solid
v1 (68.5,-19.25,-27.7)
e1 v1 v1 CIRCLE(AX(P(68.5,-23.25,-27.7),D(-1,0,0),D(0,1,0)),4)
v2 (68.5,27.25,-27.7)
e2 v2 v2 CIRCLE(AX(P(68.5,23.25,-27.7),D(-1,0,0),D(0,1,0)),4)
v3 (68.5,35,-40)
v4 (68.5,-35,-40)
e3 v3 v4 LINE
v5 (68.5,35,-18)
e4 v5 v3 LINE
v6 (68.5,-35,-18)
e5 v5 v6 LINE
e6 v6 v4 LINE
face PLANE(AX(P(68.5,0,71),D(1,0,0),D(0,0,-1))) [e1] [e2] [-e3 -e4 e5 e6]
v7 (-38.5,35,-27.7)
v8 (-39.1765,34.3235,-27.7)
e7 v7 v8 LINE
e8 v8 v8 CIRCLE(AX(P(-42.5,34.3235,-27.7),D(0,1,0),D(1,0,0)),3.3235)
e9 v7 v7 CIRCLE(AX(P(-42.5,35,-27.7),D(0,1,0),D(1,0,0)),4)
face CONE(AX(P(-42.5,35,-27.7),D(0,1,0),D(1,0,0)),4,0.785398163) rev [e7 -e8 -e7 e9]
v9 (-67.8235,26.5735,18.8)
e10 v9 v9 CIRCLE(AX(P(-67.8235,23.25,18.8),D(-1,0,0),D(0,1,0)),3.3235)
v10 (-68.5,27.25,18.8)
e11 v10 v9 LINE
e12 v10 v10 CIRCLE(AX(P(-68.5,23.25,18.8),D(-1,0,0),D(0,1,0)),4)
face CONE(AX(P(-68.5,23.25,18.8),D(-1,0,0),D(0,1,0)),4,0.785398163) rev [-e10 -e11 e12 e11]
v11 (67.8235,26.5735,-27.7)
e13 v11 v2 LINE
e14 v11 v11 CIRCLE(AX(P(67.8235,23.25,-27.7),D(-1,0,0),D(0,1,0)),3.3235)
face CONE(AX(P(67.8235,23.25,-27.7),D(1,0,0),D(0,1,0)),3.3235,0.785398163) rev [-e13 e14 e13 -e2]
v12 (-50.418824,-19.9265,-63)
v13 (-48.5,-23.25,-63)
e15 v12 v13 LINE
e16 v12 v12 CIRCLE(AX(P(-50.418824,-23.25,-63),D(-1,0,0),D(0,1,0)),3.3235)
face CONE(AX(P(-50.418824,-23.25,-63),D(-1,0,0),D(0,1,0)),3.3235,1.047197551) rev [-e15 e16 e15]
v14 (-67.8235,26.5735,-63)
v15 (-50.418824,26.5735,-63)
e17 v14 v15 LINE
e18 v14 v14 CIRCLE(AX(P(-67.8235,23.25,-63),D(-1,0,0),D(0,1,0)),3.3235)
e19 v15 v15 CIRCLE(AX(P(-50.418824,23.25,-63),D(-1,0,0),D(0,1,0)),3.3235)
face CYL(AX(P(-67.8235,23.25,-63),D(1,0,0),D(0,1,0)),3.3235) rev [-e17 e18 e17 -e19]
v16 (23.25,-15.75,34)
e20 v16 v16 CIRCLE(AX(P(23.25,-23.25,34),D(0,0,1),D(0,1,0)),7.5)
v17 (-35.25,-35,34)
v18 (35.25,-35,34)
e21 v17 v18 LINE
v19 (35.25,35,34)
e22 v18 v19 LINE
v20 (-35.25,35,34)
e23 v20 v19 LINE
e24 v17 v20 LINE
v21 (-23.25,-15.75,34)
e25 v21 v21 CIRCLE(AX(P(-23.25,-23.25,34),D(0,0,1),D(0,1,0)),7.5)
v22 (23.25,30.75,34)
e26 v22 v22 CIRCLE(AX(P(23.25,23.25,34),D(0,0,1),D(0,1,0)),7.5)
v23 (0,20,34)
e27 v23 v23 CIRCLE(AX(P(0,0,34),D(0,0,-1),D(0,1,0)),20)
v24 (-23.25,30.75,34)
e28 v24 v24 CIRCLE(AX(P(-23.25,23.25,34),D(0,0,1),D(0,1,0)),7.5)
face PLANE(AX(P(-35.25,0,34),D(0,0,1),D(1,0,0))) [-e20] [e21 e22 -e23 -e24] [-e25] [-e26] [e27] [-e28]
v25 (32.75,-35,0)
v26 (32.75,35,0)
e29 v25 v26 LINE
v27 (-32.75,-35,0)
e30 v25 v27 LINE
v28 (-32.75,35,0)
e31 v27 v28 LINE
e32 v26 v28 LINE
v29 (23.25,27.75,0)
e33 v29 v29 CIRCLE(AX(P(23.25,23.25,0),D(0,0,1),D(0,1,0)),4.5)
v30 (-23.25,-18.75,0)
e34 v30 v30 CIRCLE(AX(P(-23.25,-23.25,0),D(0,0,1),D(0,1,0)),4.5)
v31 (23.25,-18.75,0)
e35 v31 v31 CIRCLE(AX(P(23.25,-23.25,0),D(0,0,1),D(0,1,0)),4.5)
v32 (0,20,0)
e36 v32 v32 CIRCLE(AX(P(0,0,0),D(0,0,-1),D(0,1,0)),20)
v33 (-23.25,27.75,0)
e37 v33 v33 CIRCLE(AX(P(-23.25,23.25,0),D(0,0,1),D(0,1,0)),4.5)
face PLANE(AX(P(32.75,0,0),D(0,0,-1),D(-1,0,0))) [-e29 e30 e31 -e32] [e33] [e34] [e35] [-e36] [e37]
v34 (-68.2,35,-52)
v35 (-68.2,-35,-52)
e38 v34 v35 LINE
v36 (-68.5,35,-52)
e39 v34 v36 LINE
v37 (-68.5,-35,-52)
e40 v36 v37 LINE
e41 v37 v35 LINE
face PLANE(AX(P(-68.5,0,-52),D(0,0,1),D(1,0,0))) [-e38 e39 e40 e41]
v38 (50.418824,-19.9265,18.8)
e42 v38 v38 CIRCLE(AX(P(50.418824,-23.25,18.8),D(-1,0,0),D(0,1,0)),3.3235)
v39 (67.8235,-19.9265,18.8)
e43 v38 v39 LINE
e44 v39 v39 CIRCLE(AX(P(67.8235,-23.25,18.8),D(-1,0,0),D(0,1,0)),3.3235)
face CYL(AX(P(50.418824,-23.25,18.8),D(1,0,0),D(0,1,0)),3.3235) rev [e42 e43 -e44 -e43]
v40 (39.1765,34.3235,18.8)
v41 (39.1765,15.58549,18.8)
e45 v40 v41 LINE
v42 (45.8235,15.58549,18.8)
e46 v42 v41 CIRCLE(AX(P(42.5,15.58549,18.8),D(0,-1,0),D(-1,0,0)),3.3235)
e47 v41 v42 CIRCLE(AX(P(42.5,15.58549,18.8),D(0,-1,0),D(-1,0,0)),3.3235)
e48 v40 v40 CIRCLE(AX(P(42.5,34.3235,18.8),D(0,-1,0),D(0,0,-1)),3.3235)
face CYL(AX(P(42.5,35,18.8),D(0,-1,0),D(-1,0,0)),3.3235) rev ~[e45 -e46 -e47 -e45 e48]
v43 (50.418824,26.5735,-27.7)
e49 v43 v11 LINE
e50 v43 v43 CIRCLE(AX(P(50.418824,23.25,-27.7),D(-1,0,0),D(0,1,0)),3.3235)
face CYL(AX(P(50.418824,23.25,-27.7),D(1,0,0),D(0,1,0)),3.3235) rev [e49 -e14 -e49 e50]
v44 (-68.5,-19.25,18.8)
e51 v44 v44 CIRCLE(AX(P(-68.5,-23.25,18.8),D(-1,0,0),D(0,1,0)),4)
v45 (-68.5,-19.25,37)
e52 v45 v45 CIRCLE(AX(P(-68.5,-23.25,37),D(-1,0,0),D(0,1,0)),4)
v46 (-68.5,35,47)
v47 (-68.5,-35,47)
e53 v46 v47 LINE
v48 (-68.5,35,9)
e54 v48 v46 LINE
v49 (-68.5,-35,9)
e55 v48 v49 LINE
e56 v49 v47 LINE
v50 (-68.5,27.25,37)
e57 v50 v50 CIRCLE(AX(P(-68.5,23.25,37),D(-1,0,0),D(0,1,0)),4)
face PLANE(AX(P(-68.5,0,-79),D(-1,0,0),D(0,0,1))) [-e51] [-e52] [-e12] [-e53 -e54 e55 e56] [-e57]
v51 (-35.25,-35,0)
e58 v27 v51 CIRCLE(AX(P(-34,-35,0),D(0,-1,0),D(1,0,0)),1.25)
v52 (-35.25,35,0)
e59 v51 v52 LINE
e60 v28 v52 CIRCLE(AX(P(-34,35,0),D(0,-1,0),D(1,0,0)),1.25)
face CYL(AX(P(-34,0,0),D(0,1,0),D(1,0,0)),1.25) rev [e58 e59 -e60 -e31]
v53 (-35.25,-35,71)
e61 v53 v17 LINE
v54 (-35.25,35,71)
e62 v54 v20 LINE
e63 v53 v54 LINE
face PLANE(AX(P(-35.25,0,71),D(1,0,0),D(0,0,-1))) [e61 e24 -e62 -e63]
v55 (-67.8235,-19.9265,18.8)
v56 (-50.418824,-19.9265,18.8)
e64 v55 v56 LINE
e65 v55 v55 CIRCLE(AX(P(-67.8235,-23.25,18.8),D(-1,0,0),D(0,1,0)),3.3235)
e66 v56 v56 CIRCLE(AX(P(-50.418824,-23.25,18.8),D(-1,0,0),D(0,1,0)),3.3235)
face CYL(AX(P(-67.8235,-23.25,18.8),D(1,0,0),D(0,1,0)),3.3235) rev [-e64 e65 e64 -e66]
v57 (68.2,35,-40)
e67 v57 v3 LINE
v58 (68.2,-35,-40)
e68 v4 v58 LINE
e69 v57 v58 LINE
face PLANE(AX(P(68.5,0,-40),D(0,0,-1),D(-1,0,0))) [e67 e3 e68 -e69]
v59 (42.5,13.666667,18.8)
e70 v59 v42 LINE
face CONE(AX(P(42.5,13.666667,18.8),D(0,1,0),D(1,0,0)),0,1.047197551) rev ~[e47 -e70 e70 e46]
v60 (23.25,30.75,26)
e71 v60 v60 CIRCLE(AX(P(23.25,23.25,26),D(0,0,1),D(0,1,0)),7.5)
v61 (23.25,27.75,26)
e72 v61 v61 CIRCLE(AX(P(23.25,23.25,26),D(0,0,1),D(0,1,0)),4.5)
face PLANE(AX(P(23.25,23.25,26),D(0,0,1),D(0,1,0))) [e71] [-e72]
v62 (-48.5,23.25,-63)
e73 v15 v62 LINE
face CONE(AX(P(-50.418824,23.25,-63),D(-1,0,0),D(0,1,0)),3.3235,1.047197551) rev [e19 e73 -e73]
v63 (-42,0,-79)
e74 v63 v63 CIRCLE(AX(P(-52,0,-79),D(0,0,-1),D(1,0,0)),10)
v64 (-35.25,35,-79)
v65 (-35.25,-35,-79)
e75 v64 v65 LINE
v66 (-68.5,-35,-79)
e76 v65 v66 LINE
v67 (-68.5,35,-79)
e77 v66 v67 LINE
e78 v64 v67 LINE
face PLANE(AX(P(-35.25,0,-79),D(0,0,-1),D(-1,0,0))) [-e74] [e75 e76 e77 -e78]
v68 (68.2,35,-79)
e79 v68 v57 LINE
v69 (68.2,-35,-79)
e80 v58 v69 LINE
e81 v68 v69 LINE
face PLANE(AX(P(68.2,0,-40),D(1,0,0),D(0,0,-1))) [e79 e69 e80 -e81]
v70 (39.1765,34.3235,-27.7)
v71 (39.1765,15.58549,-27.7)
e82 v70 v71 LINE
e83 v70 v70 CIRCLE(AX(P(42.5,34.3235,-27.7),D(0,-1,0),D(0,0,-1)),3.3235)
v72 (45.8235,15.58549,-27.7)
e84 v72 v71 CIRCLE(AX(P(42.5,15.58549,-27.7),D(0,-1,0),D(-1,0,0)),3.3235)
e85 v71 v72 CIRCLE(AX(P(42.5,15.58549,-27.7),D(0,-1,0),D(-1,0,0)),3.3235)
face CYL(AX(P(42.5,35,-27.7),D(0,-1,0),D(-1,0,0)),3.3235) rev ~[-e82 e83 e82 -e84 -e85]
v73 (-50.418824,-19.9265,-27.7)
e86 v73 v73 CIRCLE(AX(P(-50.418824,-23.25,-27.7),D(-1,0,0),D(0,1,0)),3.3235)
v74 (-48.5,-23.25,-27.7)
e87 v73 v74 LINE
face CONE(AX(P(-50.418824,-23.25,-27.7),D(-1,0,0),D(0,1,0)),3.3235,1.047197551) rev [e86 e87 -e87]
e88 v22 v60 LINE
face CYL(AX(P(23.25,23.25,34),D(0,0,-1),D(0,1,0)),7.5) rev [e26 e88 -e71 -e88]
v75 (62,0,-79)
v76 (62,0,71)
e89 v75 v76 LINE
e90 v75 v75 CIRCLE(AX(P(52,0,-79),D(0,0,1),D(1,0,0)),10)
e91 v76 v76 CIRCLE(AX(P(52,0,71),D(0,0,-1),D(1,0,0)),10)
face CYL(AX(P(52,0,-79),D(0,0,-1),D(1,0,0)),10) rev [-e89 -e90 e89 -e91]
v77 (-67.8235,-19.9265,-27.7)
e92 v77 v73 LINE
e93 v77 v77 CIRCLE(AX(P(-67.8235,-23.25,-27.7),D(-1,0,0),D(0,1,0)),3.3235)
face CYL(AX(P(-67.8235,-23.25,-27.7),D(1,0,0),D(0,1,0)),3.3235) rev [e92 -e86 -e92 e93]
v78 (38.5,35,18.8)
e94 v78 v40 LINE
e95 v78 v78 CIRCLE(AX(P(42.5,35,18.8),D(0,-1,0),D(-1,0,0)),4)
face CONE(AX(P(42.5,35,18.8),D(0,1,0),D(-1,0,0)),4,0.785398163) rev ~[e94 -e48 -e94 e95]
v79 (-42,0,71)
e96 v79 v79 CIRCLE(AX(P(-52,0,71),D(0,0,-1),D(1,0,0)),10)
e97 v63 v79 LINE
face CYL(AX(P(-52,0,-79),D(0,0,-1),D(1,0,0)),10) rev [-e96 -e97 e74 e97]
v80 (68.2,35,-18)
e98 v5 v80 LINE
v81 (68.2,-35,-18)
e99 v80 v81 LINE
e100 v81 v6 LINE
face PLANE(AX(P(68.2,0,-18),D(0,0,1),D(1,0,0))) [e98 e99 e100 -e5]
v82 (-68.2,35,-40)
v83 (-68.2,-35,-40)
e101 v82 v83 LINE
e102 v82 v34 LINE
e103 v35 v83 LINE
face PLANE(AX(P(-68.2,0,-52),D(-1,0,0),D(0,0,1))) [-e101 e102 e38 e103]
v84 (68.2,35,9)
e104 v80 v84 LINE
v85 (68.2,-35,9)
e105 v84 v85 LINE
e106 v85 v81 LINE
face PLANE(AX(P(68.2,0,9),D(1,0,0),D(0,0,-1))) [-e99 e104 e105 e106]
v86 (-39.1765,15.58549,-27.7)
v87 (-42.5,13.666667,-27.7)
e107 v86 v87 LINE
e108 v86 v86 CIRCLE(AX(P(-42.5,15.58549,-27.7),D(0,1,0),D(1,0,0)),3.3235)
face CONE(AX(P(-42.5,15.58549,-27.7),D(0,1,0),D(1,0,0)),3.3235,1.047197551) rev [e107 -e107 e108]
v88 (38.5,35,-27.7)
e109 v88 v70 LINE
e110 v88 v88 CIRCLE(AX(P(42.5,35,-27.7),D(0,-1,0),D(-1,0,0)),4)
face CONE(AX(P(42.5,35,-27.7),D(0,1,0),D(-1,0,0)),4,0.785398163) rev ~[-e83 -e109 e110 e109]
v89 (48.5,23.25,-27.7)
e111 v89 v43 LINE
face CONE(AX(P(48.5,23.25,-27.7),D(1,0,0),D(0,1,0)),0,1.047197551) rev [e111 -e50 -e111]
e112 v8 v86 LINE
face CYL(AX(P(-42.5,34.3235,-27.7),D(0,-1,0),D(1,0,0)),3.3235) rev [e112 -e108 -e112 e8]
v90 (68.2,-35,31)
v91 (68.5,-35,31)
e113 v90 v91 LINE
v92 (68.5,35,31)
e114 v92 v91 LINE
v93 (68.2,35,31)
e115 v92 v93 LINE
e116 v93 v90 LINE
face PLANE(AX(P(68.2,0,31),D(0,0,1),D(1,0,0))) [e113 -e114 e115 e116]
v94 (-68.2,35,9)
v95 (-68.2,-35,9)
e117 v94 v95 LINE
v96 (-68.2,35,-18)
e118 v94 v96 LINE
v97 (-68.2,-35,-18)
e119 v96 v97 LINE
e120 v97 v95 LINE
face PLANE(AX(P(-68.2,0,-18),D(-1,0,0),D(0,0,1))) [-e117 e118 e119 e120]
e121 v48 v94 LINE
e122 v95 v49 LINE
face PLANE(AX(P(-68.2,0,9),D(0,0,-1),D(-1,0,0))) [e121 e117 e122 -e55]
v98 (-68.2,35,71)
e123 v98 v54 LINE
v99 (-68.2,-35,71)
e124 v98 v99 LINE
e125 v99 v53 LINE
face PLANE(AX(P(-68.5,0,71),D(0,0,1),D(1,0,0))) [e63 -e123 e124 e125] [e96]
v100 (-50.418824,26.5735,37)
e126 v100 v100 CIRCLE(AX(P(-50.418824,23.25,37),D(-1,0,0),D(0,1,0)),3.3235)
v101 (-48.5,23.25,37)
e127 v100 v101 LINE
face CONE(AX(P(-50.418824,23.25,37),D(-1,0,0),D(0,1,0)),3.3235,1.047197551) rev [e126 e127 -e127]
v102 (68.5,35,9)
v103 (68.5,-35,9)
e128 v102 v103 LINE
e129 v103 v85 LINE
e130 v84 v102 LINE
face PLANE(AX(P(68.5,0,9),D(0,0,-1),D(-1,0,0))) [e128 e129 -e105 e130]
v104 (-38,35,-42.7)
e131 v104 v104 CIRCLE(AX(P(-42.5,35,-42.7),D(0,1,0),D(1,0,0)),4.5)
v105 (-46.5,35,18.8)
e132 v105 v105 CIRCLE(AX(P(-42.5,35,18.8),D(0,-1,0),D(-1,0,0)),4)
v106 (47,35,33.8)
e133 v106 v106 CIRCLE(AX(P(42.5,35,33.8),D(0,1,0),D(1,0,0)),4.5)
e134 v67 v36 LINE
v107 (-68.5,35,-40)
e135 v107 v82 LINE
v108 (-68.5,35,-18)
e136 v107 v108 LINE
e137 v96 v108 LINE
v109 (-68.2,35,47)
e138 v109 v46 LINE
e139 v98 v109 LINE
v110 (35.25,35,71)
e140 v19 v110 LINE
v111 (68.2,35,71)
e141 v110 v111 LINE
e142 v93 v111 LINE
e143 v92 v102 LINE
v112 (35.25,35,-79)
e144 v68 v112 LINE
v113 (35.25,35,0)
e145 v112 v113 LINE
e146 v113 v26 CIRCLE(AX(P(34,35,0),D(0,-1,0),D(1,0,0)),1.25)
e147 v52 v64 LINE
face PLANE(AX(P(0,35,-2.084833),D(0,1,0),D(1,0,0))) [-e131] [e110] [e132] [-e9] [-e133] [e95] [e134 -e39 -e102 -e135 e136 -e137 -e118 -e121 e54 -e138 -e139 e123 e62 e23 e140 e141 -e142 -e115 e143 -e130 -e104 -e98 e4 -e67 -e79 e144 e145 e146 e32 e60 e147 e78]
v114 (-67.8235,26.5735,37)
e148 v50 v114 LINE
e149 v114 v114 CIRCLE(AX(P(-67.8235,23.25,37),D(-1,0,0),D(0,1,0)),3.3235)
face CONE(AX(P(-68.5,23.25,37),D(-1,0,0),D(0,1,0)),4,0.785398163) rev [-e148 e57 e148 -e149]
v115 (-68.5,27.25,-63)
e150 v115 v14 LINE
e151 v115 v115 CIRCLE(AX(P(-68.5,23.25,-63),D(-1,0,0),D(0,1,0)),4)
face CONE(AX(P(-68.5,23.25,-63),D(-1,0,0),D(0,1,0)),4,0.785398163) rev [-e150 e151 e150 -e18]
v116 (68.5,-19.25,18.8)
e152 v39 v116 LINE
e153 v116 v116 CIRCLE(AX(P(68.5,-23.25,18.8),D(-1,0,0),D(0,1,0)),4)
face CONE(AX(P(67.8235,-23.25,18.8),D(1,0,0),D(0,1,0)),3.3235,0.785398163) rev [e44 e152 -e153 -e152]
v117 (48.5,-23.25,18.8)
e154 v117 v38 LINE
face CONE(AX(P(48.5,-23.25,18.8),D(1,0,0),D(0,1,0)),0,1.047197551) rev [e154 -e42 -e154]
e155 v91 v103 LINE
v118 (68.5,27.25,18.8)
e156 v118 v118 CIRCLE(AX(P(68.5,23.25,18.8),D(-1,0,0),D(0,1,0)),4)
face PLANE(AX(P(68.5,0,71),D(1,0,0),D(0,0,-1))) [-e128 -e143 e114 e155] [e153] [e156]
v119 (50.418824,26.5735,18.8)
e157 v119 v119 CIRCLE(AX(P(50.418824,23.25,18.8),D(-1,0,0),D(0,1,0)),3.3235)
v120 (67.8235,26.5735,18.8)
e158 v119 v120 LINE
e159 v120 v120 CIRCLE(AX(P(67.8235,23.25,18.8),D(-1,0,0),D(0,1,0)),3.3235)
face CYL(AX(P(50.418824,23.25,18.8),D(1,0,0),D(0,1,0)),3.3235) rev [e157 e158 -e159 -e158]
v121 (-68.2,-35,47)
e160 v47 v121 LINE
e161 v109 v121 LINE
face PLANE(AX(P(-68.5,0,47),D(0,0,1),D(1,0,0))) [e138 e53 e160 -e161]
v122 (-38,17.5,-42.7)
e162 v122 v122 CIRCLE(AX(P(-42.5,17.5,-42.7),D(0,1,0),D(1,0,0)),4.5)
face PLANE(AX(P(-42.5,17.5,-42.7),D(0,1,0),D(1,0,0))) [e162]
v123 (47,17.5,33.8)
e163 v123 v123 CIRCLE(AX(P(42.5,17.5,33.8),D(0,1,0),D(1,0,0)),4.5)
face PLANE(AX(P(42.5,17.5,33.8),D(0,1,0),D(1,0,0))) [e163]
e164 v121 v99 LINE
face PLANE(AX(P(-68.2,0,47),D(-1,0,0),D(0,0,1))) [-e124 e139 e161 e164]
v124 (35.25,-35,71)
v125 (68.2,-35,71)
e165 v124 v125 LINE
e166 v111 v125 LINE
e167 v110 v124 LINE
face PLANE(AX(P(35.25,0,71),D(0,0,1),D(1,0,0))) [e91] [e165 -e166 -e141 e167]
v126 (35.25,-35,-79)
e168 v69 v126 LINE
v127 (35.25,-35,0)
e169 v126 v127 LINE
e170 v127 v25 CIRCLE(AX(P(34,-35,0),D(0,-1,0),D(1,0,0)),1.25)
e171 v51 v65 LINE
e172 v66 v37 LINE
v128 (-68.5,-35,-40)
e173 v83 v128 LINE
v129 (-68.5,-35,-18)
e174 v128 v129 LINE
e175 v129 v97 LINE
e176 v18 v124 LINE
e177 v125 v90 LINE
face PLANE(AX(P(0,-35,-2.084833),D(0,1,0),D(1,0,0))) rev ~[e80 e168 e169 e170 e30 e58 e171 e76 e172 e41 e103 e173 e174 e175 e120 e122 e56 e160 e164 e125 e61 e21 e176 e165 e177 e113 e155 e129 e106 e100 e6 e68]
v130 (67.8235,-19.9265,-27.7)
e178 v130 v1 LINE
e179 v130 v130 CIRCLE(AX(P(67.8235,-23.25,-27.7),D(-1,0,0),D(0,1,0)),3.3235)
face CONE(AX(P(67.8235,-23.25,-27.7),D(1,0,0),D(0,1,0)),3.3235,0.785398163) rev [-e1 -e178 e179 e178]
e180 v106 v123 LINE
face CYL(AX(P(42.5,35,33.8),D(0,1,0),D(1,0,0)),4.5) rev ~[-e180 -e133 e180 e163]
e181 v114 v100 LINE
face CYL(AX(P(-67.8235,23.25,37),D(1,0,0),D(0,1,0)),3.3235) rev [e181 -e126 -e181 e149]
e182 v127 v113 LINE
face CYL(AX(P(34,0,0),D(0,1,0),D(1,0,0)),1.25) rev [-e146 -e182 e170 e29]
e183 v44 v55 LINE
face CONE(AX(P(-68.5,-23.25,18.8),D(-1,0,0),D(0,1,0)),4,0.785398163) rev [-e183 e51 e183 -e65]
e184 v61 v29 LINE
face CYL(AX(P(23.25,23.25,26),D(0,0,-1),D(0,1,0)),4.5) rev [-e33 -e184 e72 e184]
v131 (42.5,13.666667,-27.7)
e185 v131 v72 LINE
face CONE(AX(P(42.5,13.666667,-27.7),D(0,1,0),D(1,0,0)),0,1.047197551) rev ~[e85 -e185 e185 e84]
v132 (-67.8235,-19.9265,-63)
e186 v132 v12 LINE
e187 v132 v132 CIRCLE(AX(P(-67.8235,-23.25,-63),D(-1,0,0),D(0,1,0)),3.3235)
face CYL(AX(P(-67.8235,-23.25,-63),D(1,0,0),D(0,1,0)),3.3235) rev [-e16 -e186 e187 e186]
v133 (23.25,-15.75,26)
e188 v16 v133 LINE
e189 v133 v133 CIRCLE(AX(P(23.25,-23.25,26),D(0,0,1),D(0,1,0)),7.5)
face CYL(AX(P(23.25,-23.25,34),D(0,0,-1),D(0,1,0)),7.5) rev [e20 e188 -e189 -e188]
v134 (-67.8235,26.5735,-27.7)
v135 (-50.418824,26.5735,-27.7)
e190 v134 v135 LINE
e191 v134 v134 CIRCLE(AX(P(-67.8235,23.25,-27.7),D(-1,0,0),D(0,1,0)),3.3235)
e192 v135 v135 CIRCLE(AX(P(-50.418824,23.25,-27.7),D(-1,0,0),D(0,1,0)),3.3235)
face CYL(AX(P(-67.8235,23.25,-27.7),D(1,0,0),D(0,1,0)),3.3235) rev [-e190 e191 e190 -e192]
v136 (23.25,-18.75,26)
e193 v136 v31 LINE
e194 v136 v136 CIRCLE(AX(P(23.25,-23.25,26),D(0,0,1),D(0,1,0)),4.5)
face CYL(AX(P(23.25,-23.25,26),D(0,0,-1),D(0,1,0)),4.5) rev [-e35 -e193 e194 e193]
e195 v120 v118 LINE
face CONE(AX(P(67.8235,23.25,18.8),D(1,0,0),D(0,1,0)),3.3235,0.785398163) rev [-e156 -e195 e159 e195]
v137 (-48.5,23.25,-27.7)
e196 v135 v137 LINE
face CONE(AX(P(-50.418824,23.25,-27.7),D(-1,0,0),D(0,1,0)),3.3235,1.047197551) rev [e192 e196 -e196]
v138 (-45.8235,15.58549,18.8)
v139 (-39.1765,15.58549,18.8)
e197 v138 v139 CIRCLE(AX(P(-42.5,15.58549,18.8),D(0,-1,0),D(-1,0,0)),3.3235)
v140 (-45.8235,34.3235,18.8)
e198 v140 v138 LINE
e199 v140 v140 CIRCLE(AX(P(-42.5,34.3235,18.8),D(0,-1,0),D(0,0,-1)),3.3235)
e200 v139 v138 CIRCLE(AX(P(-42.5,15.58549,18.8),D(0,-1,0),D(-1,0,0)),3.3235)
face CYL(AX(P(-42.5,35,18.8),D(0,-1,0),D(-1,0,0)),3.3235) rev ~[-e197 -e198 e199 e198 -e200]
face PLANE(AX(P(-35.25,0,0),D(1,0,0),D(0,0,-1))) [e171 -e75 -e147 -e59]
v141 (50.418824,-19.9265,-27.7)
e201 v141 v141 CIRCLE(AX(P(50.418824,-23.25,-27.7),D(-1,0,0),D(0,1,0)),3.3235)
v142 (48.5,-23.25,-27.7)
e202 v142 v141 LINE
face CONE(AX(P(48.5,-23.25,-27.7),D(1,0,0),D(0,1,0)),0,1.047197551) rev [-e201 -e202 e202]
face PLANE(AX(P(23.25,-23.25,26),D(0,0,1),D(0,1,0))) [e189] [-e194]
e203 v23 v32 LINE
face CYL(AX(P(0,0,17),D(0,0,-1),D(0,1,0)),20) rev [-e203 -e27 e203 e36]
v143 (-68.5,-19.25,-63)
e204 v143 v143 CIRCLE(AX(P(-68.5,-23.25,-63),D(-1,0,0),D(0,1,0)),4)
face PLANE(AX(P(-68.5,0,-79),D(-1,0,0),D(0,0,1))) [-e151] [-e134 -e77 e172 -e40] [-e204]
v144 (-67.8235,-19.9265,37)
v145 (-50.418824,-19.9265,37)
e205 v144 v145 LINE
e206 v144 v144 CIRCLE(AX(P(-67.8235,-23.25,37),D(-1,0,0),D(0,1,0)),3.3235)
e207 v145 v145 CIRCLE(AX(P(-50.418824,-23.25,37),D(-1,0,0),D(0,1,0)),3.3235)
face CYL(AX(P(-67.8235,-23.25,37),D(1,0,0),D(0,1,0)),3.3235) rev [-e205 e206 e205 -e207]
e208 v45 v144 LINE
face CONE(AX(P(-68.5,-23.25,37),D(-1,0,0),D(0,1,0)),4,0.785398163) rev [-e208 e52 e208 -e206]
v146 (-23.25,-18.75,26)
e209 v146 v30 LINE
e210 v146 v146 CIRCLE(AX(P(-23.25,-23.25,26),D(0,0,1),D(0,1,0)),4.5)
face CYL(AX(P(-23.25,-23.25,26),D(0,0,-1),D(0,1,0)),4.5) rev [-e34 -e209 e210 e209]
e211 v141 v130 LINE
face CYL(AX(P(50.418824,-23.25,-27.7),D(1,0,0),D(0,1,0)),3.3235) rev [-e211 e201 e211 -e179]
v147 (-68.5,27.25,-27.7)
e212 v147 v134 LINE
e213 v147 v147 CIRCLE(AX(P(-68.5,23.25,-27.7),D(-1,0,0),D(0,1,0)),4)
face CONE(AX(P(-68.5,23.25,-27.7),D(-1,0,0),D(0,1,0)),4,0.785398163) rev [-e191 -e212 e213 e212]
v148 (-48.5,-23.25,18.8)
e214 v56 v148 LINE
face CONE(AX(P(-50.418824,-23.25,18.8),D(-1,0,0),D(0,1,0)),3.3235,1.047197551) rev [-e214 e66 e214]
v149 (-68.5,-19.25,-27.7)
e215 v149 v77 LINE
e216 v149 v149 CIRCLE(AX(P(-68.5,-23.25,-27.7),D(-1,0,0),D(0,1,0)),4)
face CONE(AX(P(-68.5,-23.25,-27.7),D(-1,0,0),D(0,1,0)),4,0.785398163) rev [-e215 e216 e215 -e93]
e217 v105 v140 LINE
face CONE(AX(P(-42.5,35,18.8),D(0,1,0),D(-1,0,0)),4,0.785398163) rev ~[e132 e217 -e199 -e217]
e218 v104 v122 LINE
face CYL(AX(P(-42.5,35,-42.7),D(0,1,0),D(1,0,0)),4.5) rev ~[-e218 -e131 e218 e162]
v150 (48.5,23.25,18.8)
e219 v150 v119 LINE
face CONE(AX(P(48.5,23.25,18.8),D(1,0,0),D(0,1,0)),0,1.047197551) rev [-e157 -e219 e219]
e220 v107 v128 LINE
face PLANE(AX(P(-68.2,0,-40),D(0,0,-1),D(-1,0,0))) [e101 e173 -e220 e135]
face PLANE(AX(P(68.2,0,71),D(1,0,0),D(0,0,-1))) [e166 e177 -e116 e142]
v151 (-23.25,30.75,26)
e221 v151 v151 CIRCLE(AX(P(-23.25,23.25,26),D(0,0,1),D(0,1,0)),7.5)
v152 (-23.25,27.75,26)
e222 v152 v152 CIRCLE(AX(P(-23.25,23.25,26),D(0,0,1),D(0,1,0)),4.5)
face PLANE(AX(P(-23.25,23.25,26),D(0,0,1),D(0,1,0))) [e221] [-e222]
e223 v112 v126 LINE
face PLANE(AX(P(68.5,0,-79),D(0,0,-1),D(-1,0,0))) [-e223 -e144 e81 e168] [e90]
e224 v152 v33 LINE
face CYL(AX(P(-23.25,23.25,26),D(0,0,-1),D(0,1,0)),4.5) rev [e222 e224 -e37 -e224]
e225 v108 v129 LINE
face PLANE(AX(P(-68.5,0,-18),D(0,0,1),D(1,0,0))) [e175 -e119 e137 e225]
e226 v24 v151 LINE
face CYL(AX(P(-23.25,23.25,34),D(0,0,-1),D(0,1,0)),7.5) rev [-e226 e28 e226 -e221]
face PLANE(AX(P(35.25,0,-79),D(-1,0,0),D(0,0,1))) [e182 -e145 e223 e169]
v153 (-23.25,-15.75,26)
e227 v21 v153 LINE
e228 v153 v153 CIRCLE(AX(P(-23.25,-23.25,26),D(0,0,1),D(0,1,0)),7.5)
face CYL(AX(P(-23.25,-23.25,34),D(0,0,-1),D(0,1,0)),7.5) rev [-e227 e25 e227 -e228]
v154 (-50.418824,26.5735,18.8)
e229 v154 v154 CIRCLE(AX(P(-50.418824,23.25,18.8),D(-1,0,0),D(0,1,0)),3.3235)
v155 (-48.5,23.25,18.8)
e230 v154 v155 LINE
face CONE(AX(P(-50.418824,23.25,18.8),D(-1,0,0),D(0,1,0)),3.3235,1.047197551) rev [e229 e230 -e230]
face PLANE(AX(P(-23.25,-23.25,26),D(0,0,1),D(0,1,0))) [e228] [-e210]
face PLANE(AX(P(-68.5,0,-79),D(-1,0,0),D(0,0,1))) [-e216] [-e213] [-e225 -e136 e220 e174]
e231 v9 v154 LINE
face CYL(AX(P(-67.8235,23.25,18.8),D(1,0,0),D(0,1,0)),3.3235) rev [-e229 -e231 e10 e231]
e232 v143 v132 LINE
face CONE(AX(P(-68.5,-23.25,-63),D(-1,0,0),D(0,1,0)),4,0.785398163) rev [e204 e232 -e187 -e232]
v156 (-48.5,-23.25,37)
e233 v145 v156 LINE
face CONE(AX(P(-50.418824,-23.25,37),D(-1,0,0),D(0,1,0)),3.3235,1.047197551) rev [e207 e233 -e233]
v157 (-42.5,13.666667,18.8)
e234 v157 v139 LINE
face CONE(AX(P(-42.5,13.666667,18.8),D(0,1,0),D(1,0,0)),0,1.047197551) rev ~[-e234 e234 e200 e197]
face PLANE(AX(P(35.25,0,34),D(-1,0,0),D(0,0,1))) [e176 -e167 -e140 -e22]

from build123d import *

# Parameters (mm, degrees)
BOSS_EXTRUDE1_DEPTH      = 35
BOSS_EXTRUDE1_DEPTH_BACK = 35
SKETCH2_W                = 36
SKETCH2_H                = 20
HOLE1_D                  = 6.647
HOLE1_DEPTH              = 19.414509714
HOLE1_CSINK_D            = 8
HOLE1_CSINK_ANGLE        = 90
HOLE1_TIP                = 1.91882362
HOLE2_D                  = 6.647
HOLE2_DEPTH              = 19.414509714
HOLE2_CSINK_D            = 8
HOLE2_CSINK_ANGLE        = 90
HOLE2_TIP                = 1.91882362
HOLE3_D                  = 6.647
HOLE3_DEPTH              = 19.414509714
HOLE3_CSINK_D            = 8
HOLE3_CSINK_ANGLE        = 90
HOLE3_TIP                = 1.91882362
SKETCH26_R               = 10
CUT_EXTRUDE1_DEPTH       = 150
SKETCH27_R               = 10
CUT_EXTRUDE2_DEPTH       = 150
CUT_EXTRUDE3_DEPTH       = 70
CUT_EXTRUDE3_DEPTH_BACK  = 70
SKETCH28_W               = 177
SKETCH28_H               = 190
SKETCH29_R               = 4.5
CUT_EXTRUDE4_DEPTH       = 17.5


with BuildPart() as part:
    # Sketch1 → Boss-Extrude1 (new, two sides: drawn at the far end of the back side and taken through both)
    with BuildSketch(Plane(origin=(0, 0, 0), x_dir=(1, 0, 0), z_dir=(0, 1, 0)).offset(-BOSS_EXTRUDE1_DEPTH_BACK)):
        with BuildLine():
            Line((-68.5, -71), (-35.25, -71))
            Line((-35.25, -71), (-35.25, -34))
            Line((-35.25, -34), (35.25, -34))
            Line((35.25, -34), (35.25, -71))
            Line((35.25, -71), (68.5, -71))
            Line((68.5, -71), (68.5, 79))
            Line((68.5, 79), (35.25, 79))
            Line((35.25, 79), (35.25, 0))
            ThreePointArc((35.25, 0), (34, -1.25), (32.75, 0))
            Line((32.75, 0), (-32.75, 0))
            ThreePointArc((-32.75, 0), (-34, -1.25), (-35.25, 0))
            Line((-35.25, 0), (-35.25, 79))
            Line((-35.25, 79), (-68.5, 79))
            Line((-68.5, 79), (-68.5, -71))
        make_face()
    extrude(amount=BOSS_EXTRUDE1_DEPTH + BOSS_EXTRUDE1_DEPTH_BACK)

    # Sketch2 → Cut-Revolve1 (revolve, cut)
    with BuildSketch(Plane(origin=(0, 0, 0), x_dir=(0, 0, -1), z_dir=(1, 0, 0))):
        with Locations((-17, 10)):
            Rectangle(SKETCH2_W, SKETCH2_H)
    revolve(axis=Axis((0, 0, -1), (0, 0, 1)), mode=Mode.SUBTRACT)

    # Sketch3 → Cut-Revolve2 (revolve, cut)
    with BuildSketch(Plane(origin=(-23.25, 0, 0), x_dir=(0, 0, -1), z_dir=(1, 0, 0))):
        Polygon((-34, 23.25), (-34, 30.75), (-26, 30.75), (-26, 27.75), (0, 27.75), (0, 23.25), align=None)
    revolve(axis=Axis((-23.25, 23.25, 0), (0, 0, 1)), mode=Mode.SUBTRACT)

    # Sketch4 → Cut-Revolve3 (revolve, cut)
    with BuildSketch(Plane(origin=(-23.25, 0, 0), x_dir=(0, 0, -1), z_dir=(1, 0, 0))):
        Polygon((-34, -23.25), (-34, -15.75), (-26, -15.75), (-26, -18.75), (0, -18.75), (0, -23.25), align=None)
    revolve(axis=Axis((-23.25, -23.25, 0), (0, 0, 1)), mode=Mode.SUBTRACT)

    # Sketch5 → Cut-Revolve4 (revolve, cut)
    with BuildSketch(Plane(origin=(23.25, 0, 0), x_dir=(0, 0, -1), z_dir=(1, 0, 0))):
        Polygon((-34, 23.25), (-34, 30.75), (-26, 30.75), (-26, 27.75), (0, 27.75), (0, 23.25), align=None)
    revolve(axis=Axis((23.25, 23.25, 0), (0, 0, 1)), mode=Mode.SUBTRACT)

    # Sketch6 → Cut-Revolve5 (revolve, cut)
    with BuildSketch(Plane(origin=(23.25, 0, 0), x_dir=(0, 0, -1), z_dir=(1, 0, 0))):
        Polygon((-34, -23.25), (-34, -15.75), (-26, -15.75), (-26, -18.75), (0, -18.75), (0, -23.25), align=None)
    revolve(axis=Axis((23.25, -23.25, 0), (0, 0, 1)), mode=Mode.SUBTRACT)

    # Hole1
    with Locations(Plane(origin=(0, 35, 0), x_dir=(1, 0, 0), z_dir=(0, 1, 0))):
        with Locations((42.5, -18.8)):
            CounterSinkHole(HOLE1_D / 2, HOLE1_CSINK_D / 2, depth=HOLE1_DEPTH, counter_sink_angle=HOLE1_CSINK_ANGLE)
            with Locations((0, 0, -(HOLE1_DEPTH + HOLE1_TIP / 2))):  # 120° drill point
                Cone(0, HOLE1_D / 2, HOLE1_TIP, mode=Mode.SUBTRACT)

    # Hole2
    with Locations(Plane(origin=(0, 35, 0), x_dir=(1, 0, 0), z_dir=(0, 1, 0))):
        with Locations((-42.5, -18.8)):
            CounterSinkHole(HOLE2_D / 2, HOLE2_CSINK_D / 2, depth=HOLE2_DEPTH, counter_sink_angle=HOLE2_CSINK_ANGLE)
            with Locations((0, 0, -(HOLE2_DEPTH + HOLE2_TIP / 2))):  # 120° drill point
                Cone(0, HOLE2_D / 2, HOLE2_TIP, mode=Mode.SUBTRACT)

    # Sketch11 → Cut-Revolve6 (revolve, cut)
    with BuildSketch(Plane.XY.offset(18.8)):
        Polygon((48.5, 23.25), (50.41882362, 26.5735), (67.8235, 26.5735), (68.5, 27.25), (68.5, 23.25), align=None)
    revolve(axis=Axis((68.5, 23.25, 18.8), (-1, 0, 0)), mode=Mode.SUBTRACT)

    # Sketch12 → Cut-Revolve7 (revolve, cut)
    with BuildSketch(Plane.XY.offset(18.8)):
        Polygon((48.5, -23.25), (50.41882362, -19.9265), (67.8235, -19.9265), (68.5, -19.25), (68.5, -23.25), align=None)
    revolve(axis=Axis((68.5, -23.25, 18.8), (-1, 0, 0)), mode=Mode.SUBTRACT)

    # Sketch13 → Cut-Revolve8 (revolve, cut)
    with BuildSketch(Plane.XY.offset(18.8)):
        Polygon((-68.5, 23.25), (-68.5, 27.25), (-67.8235, 26.5735), (-50.41882362, 26.5735), (-48.5, 23.25), align=None)
    revolve(axis=Axis((-48.5, 23.25, 18.8), (-1, 0, 0)), mode=Mode.SUBTRACT)

    # Sketch14 → Cut-Revolve9 (revolve, cut)
    with BuildSketch(Plane.XY.offset(18.8)):
        Polygon((-68.5, -23.25), (-68.5, -19.25), (-67.8235, -19.9265), (-50.41882362, -19.9265), (-48.5, -23.25), align=None)
    revolve(axis=Axis((-48.5, -23.25, 18.8), (-1, 0, 0)), mode=Mode.SUBTRACT)

    # Hole3
    with Locations(Plane(origin=(0, 35, 0), x_dir=(1, 0, 0), z_dir=(0, 1, 0))):
        with Locations((42.5, 27.7)):
            CounterSinkHole(HOLE3_D / 2, HOLE3_CSINK_D / 2, depth=HOLE3_DEPTH, counter_sink_angle=HOLE3_CSINK_ANGLE)
            with Locations((0, 0, -(HOLE3_DEPTH + HOLE3_TIP / 2))):  # 120° drill point
                Cone(0, HOLE3_D / 2, HOLE3_TIP, mode=Mode.SUBTRACT)

    # Sketch17 → Cut-Revolve10 (revolve, cut)
    with BuildSketch(Plane.XY.offset(-27.7)):
        Polygon((-42.5, 35), (-38.5, 35), (-39.1765, 34.3235), (-39.1765, 15.585490286), (-42.5, 13.666666667), align=None)
    revolve(axis=Axis((-42.5, 13.666666667, -27.7), (0, 1, 0)), mode=Mode.SUBTRACT)

    # Sketch18 → Cut-Revolve11 (revolve, cut)
    with BuildSketch(Plane.XY.offset(-27.7)):
        Polygon((48.5, 23.25), (50.41882362, 26.5735), (67.8235, 26.5735), (68.5, 27.25), (68.5, 23.25), align=None)
    revolve(axis=Axis((68.5, 23.25, -27.7), (-1, 0, 0)), mode=Mode.SUBTRACT)

    # Sketch19 → Cut-Revolve12 (revolve, cut)
    with BuildSketch(Plane.XY.offset(-27.7)):
        Polygon((48.5, -23.25), (50.41882362, -19.9265), (67.8235, -19.9265), (68.5, -19.25), (68.5, -23.25), align=None)
    revolve(axis=Axis((68.5, -23.25, -27.7), (-1, 0, 0)), mode=Mode.SUBTRACT)

    # Sketch20 → Cut-Revolve13 (revolve, cut)
    with BuildSketch(Plane.XY.offset(-27.7)):
        Polygon((-68.5, 23.25), (-68.5, 27.25), (-67.8235, 26.5735), (-50.41882362, 26.5735), (-48.5, 23.25), align=None)
    revolve(axis=Axis((-48.5, 23.25, -27.7), (-1, 0, 0)), mode=Mode.SUBTRACT)

    # Sketch21 → Cut-Revolve14 (revolve, cut)
    with BuildSketch(Plane.XY.offset(-27.7)):
        Polygon((-68.5, -23.25), (-68.5, -19.25), (-67.8235, -19.9265), (-50.41882362, -19.9265), (-48.5, -23.25), align=None)
    revolve(axis=Axis((-48.5, -23.25, -27.7), (-1, 0, 0)), mode=Mode.SUBTRACT)

    # Sketch22 → Cut-Revolve15 (revolve, cut)
    with BuildSketch(Plane.XY.offset(-63)):
        Polygon((-68.5, 23.25), (-68.5, 27.25), (-67.8235, 26.5735), (-50.41882362, 26.5735), (-48.5, 23.25), align=None)
    revolve(axis=Axis((-48.5, 23.25, -63), (-1, 0, 0)), mode=Mode.SUBTRACT)

    # Sketch23 → Cut-Revolve16 (revolve, cut)
    with BuildSketch(Plane.XY.offset(-63)):
        Polygon((-68.5, -23.25), (-68.5, -19.25), (-67.8235, -19.9265), (-50.41882362, -19.9265), (-48.5, -23.25), align=None)
    revolve(axis=Axis((-48.5, -23.25, -63), (-1, 0, 0)), mode=Mode.SUBTRACT)

    # Sketch24 → Cut-Revolve17 (revolve, cut)
    with BuildSketch(Plane.XY.offset(37)):
        Polygon((-68.5, 23.25), (-68.5, 27.25), (-67.8235, 26.5735), (-50.41882362, 26.5735), (-48.5, 23.25), align=None)
    revolve(axis=Axis((-48.5, 23.25, 37), (-1, 0, 0)), mode=Mode.SUBTRACT)

    # Sketch25 → Cut-Revolve18 (revolve, cut)
    with BuildSketch(Plane.XY.offset(37)):
        Polygon((-68.5, -23.25), (-68.5, -19.25), (-67.8235, -19.9265), (-50.41882362, -19.9265), (-48.5, -23.25), align=None)
    revolve(axis=Axis((-48.5, -23.25, 37), (-1, 0, 0)), mode=Mode.SUBTRACT)

    # Sketch26 → Cut-Extrude1 (cut)
    with BuildSketch(Plane.XY.offset(-79)):
        with Locations((52, 0)):
            Circle(SKETCH26_R)
    extrude(amount=CUT_EXTRUDE1_DEPTH, mode=Mode.SUBTRACT)

    # Sketch27 → Cut-Extrude2 (cut)
    with BuildSketch(Plane.XY.offset(-79)):
        with Locations((-52, 0)):
            Circle(SKETCH27_R)
    extrude(amount=CUT_EXTRUDE2_DEPTH, mode=Mode.SUBTRACT)

    # Sketch28 → Cut-Extrude3 (cut, two sides: drawn at the far end of the back side and taken through both)
    with BuildSketch(Plane(origin=(0, 0, 0), x_dir=(1, 0, 0), z_dir=(0, 1, 0)).offset(-CUT_EXTRUDE3_DEPTH_BACK)):
        with Locations((0, 4)):
            Rectangle(SKETCH28_W, SKETCH28_H)
        Polygon((-68.5, 18), (-68.2, 18), (-68.2, -9), (-68.5, -9), (-68.5, -47), (-68.2, -47), (-68.2, -71), (68.2, -71), (68.2, -31), (68.5, -31), (68.5, -9), (68.2, -9), (68.2, 18), (68.5, 18), (68.5, 40), (68.2, 40), (68.2, 79), (-68.5, 79), (-68.5, 52), (-68.2, 52), (-68.2, 40), (-68.5, 40), align=None, mode=Mode.SUBTRACT)
    extrude(amount=CUT_EXTRUDE3_DEPTH + CUT_EXTRUDE3_DEPTH_BACK, mode=Mode.SUBTRACT)

    # Sketch29 → Cut-Extrude4 (cut)
    with BuildSketch(Plane(origin=(0, 35, 0), x_dir=(1, 0, 0), z_dir=(0, 1, 0))):
        with Locations((-42.5, 42.7)):
            Circle(SKETCH29_R)
        with Locations((42.5, -33.8)):
            Circle(SKETCH29_R)
    extrude(amount=-CUT_EXTRUDE4_DEPTH, mode=Mode.SUBTRACT)


solid = part.part
